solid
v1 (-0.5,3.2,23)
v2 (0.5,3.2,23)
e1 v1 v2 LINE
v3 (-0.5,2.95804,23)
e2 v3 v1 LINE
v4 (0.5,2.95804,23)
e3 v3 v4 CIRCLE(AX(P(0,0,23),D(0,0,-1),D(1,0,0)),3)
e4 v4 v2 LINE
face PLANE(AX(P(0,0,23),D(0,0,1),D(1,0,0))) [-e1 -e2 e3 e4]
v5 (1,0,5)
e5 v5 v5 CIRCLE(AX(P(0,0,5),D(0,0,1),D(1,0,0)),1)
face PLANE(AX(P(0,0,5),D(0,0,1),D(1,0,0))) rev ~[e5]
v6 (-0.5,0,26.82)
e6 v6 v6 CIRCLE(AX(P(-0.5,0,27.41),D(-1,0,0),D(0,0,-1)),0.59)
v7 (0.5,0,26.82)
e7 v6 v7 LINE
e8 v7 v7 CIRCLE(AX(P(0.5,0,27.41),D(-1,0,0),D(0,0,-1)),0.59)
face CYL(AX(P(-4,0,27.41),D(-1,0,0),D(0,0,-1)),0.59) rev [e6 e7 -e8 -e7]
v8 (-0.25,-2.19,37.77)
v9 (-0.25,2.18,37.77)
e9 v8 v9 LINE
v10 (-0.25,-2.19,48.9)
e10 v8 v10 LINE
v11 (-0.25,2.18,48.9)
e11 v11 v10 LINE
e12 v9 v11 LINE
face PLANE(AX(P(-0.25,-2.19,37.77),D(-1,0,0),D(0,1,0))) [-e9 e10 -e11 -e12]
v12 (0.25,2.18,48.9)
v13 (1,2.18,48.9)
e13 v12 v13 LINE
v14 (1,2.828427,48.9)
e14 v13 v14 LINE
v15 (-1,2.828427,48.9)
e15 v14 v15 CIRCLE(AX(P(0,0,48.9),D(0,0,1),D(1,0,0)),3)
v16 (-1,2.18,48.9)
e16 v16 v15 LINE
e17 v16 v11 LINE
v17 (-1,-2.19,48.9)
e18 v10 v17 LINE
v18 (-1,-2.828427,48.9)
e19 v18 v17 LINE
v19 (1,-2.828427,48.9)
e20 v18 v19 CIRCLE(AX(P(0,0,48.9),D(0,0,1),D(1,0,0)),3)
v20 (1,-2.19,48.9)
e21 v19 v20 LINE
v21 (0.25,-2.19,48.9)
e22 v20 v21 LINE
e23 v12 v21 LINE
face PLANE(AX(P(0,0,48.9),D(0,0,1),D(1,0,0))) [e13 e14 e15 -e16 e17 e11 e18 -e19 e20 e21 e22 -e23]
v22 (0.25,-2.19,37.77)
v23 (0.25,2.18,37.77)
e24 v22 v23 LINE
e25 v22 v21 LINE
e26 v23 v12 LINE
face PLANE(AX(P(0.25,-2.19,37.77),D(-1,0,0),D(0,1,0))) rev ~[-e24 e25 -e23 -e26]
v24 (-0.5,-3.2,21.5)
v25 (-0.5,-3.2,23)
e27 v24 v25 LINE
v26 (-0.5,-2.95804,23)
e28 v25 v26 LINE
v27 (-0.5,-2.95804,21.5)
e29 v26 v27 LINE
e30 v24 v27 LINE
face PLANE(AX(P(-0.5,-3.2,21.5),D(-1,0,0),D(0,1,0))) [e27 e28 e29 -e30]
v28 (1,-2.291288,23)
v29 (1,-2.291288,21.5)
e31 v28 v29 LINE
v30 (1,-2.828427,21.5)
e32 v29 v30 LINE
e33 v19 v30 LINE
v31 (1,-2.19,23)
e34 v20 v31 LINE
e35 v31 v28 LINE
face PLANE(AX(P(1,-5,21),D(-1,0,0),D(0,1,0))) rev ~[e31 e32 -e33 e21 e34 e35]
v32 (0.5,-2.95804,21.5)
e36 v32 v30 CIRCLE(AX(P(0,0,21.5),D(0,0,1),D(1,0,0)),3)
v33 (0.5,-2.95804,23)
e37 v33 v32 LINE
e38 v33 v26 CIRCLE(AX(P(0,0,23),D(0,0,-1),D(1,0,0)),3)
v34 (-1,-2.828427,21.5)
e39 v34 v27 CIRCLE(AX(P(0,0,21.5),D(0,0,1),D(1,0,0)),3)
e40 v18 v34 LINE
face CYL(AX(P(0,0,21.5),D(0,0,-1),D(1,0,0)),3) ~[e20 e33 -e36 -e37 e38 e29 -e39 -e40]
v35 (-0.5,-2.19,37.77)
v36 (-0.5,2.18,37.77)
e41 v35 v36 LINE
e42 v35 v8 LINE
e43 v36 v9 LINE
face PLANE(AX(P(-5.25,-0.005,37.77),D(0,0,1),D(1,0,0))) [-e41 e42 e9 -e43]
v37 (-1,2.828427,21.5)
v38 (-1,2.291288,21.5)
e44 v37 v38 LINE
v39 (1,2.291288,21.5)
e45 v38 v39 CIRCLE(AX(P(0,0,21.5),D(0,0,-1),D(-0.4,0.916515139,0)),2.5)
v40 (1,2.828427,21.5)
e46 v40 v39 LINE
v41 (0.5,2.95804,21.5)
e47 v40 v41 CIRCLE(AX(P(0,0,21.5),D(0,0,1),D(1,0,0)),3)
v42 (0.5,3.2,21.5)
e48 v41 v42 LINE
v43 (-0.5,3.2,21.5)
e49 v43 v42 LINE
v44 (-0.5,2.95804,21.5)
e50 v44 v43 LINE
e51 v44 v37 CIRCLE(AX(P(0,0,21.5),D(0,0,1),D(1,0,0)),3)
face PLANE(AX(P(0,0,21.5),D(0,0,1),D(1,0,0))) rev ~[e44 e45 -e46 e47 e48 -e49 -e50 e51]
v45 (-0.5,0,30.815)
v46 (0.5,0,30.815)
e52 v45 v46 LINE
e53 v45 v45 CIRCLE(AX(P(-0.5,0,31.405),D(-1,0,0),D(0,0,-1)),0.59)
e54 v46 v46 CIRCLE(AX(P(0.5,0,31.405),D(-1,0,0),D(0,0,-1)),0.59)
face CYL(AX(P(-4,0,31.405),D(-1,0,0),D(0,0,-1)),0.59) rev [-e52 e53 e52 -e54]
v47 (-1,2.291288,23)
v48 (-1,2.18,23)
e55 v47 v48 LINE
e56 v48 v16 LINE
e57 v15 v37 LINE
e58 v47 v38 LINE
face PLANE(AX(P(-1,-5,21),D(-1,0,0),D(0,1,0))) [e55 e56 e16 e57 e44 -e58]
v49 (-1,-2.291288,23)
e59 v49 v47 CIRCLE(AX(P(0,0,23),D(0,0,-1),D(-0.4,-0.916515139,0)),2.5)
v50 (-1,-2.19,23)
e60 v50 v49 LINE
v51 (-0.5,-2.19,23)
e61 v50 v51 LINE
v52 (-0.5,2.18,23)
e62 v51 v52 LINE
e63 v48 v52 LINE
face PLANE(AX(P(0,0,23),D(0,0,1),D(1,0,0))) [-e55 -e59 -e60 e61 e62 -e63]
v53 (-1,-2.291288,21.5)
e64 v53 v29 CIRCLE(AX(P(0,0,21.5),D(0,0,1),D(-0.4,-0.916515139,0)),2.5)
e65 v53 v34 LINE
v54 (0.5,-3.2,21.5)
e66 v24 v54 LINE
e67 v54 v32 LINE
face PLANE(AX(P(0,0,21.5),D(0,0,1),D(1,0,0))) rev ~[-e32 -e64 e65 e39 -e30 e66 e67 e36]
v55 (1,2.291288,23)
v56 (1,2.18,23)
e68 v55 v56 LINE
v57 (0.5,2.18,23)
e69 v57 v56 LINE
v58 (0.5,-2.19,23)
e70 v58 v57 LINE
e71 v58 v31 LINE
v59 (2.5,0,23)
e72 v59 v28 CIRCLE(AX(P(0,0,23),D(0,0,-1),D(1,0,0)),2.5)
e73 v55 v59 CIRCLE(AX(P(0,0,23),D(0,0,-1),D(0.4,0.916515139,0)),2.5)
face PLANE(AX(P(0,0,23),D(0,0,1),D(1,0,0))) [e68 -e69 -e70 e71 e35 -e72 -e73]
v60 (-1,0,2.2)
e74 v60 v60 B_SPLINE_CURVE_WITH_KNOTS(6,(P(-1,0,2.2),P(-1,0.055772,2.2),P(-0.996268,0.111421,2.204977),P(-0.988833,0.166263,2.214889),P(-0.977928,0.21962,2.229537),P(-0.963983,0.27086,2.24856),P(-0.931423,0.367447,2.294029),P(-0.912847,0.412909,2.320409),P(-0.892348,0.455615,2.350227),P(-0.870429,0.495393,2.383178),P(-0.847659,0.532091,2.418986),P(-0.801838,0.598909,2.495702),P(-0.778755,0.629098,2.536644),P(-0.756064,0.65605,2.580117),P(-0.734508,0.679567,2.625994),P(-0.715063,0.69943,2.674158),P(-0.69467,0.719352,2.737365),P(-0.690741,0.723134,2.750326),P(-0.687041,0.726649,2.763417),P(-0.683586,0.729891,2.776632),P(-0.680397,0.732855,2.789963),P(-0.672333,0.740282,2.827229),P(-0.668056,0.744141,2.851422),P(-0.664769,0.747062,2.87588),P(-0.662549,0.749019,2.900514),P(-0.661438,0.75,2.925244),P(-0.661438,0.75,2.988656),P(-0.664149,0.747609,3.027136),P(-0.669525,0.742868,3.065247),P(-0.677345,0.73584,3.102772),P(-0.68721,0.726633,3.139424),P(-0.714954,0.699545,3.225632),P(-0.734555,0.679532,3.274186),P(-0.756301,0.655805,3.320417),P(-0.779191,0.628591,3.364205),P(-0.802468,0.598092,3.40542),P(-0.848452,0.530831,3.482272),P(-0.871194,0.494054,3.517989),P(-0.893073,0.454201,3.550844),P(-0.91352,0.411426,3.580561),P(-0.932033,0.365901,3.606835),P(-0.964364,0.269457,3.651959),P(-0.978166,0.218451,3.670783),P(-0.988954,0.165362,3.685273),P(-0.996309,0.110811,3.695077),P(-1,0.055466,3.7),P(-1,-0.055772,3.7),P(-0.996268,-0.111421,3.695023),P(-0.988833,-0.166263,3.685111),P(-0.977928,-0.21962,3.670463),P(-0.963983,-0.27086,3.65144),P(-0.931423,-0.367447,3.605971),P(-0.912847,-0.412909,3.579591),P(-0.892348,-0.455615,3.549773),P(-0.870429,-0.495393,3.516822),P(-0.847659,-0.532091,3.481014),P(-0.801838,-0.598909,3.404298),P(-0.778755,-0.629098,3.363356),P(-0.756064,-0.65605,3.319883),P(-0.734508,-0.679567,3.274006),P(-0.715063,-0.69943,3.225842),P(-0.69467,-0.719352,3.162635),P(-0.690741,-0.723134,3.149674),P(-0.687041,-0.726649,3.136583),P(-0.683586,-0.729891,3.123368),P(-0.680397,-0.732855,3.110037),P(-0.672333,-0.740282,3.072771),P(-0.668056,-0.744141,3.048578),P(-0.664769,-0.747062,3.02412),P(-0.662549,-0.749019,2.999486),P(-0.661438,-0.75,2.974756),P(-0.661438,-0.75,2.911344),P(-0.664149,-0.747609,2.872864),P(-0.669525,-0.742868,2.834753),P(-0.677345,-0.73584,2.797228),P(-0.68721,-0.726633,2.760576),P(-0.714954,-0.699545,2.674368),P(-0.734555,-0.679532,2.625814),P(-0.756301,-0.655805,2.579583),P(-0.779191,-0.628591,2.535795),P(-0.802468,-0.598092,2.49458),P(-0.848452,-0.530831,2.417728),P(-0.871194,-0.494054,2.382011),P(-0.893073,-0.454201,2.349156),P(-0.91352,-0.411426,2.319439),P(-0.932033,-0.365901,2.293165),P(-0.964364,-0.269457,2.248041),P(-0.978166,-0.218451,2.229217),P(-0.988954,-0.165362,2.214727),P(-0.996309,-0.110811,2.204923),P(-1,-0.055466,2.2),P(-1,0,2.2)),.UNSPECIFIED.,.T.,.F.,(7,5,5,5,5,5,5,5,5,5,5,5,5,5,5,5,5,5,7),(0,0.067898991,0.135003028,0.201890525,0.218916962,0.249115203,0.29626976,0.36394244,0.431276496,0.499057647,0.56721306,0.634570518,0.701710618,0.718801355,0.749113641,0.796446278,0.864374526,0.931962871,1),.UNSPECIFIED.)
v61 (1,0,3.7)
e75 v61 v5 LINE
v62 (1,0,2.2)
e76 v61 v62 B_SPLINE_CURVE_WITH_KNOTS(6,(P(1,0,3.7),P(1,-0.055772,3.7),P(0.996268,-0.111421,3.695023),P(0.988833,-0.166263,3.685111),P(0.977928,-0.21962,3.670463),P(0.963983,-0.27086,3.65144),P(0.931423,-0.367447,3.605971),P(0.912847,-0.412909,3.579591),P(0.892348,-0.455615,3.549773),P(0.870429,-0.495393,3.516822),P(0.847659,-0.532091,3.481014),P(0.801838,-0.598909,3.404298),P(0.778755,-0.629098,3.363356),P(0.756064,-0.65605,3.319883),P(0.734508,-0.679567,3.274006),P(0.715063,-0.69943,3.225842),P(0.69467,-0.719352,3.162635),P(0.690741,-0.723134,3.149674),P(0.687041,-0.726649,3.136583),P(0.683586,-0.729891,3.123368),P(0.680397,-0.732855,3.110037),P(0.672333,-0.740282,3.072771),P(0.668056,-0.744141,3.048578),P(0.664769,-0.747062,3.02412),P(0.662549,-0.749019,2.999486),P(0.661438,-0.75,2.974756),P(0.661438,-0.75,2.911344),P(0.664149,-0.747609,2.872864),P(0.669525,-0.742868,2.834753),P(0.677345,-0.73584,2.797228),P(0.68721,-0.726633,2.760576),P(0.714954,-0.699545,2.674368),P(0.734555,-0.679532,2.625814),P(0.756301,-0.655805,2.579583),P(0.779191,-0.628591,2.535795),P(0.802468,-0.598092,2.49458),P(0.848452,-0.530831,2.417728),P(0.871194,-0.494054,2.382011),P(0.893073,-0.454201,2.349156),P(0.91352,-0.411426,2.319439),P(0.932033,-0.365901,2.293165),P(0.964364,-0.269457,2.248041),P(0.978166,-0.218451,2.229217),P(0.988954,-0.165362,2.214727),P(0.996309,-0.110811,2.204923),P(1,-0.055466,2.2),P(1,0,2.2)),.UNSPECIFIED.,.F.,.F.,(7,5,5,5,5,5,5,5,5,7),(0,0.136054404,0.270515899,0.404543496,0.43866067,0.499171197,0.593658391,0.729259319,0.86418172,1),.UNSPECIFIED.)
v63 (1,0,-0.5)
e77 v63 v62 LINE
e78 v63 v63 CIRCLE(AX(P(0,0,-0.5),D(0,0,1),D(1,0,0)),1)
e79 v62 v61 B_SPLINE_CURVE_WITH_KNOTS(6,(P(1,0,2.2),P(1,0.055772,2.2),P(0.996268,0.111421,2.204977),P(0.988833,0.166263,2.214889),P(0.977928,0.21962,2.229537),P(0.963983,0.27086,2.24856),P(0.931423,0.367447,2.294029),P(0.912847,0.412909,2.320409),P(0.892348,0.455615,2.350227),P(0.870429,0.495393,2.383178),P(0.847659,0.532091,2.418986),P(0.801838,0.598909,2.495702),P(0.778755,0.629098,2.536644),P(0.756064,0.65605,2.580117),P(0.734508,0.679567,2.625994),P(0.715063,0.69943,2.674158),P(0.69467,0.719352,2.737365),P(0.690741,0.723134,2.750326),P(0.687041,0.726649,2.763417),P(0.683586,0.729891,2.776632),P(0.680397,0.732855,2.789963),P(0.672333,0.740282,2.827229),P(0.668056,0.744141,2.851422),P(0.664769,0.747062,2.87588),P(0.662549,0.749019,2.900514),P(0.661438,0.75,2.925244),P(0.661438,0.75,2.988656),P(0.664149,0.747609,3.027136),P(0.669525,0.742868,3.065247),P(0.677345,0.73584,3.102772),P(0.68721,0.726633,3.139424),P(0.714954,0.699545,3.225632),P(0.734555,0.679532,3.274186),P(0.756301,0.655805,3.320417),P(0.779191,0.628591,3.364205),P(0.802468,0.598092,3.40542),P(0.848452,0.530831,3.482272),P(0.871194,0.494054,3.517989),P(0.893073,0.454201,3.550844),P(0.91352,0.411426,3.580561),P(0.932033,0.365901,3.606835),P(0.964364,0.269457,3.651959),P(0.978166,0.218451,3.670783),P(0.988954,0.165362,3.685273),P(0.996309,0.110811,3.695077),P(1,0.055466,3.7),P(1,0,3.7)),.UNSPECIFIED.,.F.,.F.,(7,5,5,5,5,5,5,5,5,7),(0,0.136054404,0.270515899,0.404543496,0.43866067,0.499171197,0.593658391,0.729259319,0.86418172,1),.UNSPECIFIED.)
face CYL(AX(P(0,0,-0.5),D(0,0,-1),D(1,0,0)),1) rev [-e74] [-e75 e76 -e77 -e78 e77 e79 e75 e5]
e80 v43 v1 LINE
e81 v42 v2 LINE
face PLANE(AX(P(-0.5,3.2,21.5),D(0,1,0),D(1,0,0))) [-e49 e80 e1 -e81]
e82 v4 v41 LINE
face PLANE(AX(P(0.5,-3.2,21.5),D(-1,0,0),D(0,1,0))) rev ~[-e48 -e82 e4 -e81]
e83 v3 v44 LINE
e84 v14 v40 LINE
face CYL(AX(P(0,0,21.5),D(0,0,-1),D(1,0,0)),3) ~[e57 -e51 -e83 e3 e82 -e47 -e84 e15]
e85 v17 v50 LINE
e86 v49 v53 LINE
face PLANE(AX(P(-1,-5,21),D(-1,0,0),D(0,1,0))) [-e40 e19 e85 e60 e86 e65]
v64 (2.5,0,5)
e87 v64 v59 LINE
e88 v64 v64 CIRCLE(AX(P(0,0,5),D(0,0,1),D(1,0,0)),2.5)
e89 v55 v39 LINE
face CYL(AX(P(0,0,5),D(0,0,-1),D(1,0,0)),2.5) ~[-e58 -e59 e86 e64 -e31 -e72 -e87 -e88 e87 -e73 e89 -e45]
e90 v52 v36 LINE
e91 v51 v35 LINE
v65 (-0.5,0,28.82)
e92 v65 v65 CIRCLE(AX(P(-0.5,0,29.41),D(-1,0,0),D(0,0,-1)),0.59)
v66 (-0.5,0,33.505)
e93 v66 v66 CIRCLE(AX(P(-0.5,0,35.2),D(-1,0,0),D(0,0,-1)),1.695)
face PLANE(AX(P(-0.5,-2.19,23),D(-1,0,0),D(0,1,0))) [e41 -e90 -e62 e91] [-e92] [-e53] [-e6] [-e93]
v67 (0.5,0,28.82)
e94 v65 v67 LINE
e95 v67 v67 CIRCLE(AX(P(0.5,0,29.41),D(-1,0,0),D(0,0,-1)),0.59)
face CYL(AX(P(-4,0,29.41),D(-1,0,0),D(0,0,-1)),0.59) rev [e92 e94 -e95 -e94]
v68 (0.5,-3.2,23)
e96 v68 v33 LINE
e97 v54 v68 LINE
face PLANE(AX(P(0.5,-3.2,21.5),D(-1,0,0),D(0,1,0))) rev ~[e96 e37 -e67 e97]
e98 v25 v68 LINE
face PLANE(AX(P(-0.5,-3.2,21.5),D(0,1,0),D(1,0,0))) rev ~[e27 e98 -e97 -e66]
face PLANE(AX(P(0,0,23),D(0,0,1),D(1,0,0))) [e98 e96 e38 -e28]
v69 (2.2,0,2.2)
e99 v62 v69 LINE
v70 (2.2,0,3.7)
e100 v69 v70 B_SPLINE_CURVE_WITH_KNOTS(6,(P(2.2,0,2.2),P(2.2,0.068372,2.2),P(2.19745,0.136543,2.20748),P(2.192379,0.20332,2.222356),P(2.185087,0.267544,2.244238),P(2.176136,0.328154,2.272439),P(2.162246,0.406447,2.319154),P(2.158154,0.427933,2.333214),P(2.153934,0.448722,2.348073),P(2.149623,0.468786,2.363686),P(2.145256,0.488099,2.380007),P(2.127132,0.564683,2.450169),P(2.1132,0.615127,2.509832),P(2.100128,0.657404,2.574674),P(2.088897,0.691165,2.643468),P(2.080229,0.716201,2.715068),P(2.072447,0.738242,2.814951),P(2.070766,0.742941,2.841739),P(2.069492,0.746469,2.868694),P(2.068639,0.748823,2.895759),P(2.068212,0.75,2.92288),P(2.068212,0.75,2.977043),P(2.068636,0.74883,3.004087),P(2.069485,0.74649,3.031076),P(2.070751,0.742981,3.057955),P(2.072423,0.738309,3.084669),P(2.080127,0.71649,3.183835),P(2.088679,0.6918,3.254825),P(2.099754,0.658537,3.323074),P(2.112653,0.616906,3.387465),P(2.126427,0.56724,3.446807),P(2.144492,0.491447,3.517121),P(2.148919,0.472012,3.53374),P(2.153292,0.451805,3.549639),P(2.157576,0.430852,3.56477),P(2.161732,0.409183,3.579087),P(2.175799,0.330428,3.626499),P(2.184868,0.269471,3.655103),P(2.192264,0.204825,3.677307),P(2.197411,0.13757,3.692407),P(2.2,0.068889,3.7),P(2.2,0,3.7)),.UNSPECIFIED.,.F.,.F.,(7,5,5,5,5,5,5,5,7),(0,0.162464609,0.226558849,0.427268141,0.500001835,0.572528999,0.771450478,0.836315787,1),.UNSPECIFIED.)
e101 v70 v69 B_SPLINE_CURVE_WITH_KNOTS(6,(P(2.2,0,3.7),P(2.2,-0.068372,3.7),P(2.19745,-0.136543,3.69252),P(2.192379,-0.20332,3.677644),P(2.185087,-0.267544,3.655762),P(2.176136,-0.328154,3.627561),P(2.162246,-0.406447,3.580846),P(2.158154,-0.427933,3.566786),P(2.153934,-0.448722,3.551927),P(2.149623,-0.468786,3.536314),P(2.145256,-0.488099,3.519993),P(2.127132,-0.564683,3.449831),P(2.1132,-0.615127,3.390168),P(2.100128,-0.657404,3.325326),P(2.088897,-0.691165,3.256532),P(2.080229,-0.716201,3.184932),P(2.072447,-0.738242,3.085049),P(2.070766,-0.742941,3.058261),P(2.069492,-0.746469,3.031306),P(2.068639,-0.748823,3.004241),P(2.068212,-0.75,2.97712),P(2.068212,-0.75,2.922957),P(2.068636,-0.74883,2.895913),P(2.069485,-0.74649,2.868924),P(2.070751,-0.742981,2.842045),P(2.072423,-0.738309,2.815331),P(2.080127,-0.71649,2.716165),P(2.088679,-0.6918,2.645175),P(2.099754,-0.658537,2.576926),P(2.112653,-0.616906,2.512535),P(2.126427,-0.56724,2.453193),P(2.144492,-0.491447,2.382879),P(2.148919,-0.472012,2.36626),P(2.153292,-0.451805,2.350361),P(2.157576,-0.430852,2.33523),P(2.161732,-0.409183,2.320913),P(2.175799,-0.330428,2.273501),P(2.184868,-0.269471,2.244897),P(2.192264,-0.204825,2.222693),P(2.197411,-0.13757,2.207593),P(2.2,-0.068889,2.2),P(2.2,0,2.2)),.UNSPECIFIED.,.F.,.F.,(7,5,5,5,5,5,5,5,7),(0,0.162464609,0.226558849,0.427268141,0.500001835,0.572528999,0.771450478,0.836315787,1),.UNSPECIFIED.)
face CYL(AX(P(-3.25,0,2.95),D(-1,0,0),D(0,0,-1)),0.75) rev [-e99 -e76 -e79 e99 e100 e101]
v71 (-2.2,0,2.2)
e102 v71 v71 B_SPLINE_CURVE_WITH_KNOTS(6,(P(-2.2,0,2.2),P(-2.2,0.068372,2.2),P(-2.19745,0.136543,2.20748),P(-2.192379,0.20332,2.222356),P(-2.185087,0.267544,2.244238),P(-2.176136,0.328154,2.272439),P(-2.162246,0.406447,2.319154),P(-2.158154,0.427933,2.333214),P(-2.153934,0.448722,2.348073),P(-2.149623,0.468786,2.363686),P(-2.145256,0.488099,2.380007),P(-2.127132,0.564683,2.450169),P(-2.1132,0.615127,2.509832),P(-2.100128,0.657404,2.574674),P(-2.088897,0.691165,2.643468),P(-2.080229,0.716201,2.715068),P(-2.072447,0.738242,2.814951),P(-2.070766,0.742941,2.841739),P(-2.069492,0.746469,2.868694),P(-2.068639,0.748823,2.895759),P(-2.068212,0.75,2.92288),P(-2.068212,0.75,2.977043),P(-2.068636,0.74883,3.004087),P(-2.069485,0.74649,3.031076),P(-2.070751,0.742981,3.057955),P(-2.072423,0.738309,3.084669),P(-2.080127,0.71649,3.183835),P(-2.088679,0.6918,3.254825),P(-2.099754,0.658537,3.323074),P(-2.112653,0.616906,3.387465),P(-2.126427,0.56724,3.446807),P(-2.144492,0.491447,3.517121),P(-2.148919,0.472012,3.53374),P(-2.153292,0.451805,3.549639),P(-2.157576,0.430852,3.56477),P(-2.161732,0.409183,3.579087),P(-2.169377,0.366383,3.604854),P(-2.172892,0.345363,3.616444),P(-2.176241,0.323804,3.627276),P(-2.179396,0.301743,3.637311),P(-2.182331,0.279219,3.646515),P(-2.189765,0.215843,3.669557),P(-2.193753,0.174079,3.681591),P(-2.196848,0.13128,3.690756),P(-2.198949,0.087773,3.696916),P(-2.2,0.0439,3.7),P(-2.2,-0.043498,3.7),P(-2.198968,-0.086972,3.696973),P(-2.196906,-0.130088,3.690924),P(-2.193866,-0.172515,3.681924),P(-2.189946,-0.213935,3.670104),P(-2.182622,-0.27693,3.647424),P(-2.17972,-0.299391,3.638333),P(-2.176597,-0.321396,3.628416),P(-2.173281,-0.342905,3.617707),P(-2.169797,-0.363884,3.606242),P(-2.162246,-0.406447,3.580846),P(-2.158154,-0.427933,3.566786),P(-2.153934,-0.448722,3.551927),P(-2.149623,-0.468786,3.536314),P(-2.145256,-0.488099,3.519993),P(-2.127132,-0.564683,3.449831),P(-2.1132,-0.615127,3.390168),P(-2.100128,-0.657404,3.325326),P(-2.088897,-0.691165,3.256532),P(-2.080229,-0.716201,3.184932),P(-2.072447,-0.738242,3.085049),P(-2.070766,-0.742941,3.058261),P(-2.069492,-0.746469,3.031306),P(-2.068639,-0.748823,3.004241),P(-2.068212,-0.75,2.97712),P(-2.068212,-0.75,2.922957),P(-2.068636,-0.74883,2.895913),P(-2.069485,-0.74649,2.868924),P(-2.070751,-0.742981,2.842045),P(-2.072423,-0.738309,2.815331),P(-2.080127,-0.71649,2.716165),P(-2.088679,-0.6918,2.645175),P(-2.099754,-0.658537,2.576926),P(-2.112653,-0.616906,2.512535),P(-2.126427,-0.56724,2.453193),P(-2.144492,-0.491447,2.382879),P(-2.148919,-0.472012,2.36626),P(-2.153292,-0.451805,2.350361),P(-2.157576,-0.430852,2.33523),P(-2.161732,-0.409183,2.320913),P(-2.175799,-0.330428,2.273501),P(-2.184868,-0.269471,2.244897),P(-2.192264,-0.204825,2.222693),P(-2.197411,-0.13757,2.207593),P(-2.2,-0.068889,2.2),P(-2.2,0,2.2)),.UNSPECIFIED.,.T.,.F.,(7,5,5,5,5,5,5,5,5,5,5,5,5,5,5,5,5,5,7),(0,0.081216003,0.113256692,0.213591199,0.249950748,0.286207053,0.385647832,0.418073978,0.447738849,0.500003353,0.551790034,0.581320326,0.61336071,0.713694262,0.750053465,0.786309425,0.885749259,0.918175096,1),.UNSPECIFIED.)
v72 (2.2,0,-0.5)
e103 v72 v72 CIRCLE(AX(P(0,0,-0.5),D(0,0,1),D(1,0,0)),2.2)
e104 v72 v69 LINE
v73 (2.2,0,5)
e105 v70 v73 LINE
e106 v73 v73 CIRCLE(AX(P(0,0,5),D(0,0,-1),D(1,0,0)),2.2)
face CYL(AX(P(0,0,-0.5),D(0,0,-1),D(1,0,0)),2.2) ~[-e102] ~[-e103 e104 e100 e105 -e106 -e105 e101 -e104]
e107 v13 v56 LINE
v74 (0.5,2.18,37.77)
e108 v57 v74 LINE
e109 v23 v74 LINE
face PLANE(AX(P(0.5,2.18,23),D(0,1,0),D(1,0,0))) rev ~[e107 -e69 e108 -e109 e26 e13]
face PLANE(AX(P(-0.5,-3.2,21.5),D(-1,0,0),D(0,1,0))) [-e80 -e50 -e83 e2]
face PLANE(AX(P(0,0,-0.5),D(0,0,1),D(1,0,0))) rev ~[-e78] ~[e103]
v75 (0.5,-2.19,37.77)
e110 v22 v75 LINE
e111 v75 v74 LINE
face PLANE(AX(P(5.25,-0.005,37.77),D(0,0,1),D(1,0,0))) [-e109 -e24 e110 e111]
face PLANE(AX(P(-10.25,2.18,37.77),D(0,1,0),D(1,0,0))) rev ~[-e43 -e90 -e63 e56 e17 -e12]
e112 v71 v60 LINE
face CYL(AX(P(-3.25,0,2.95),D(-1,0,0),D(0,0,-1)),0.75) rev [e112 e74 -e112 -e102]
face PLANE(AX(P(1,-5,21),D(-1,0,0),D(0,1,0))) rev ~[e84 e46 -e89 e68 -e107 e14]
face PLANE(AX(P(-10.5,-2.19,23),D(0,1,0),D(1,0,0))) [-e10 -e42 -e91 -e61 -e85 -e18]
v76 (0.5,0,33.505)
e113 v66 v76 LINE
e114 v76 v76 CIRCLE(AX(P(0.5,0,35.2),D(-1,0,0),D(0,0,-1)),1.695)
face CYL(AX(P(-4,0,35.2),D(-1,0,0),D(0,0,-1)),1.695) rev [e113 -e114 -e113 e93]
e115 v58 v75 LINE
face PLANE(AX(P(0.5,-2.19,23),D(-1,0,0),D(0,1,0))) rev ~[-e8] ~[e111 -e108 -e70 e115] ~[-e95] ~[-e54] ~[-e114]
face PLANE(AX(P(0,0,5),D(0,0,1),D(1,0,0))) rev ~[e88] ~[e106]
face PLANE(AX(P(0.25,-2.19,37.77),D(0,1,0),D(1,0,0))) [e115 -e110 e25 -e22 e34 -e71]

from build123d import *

# Parameters (mm, degrees)
BOX002_W          = 1
BOX002_H          = 6.4
BOX002_DEPTH      = 1.5
BOX006_W          = 10
BOX006_H          = 4.37
BOX006_DEPTH      = 12
BOX005_W          = 10
BOX005_H          = 4.37
BOX005_DEPTH      = 12
CYLINDER008_R     = 0.59
CYLINDER008_DEPTH = 50
CYLINDER009_R     = 0.59
CYLINDER009_DEPTH = 50
CYLINDER007_R     = 0.59
CYLINDER007_DEPTH = 50
BOX003_W          = 10
BOX003_H          = 4.37
BOX003_DEPTH      = 26
BOX004_W          = 10
BOX004_H          = 4.37
BOX004_DEPTH      = 26
BOX001_W          = 10
BOX001_H          = 5.5
BOX001_DEPTH      = 27
CYLINDER006_R     = 1.695
CYLINDER006_DEPTH = 20
CYLINDER003_R     = 1.1
CYLINDER003_DEPTH = 2
BOX_W             = 2
BOX_H             = 10
BOX_DEPTH         = 27.9
CYLINDER004_R     = 3
CYLINDER004_DEPTH = 27.4
CYLINDER005_R     = 1
CYLINDER005_DEPTH = 5.5
CYLINDER002_R     = 0.75
CYLINDER002_DEPTH = 6.2
CYLINDER001_R     = 2.5
CYLINDER001_DEPTH = 18
CYLINDER_R        = 2.2
CYLINDER_DEPTH    = 21.5


with BuildPart() as w_rfel002:
    # Box002 → Box002 (new body)
    with BuildSketch(Plane(origin=(-0.5, -3.2, 21.5), x_dir=(1, 0, 0), z_dir=(0, 0, 1))):
        with Locations((0.5, 3.2)):
            Rectangle(BOX002_W, BOX002_H)
    extrude(amount=BOX002_DEPTH)


with BuildPart() as w_rfel006:
    # Box006 → Box006 (new body)
    with BuildSketch(Plane(origin=(-10.25, -2.19, 36.77), x_dir=(1, 0, 0), z_dir=(0, 0, 1))):
        with Locations((5, 2.185)):
            Rectangle(BOX006_W, BOX006_H)
    extrude(amount=BOX006_DEPTH)


with BuildPart() as fusion004:
    # Box005 → Box005 (new body)
    with BuildSketch(Plane(origin=(0.25, -2.19, 36.77), x_dir=(1, 0, 0), z_dir=(0, 0, 1))):
        with Locations((5, 2.185)):
            Rectangle(BOX005_W, BOX005_H)
    extrude(amount=BOX005_DEPTH)

    # Fusion004: union Würfel006
    add(w_rfel006.part)


with BuildPart() as fusion004_1:
    # Fusion004 placement: moved
    add(fusion004.part.moved(Location((0, 0, 1))))


with BuildPart() as m1_6_thread2:
    # Cylinder008 → Cylinder008 (new body)
    with BuildSketch(Plane(origin=(-4, 0, 29.41), x_dir=(0, 0, -1), z_dir=(1, 0, 0))):
        Circle(CYLINDER008_R)
    extrude(amount=CYLINDER008_DEPTH)


with BuildPart() as m1_6_thread3:
    # Cylinder009 → Cylinder009 (new body)
    with BuildSketch(Plane(origin=(-4, 0, 27.41), x_dir=(0, 0, -1), z_dir=(1, 0, 0))):
        Circle(CYLINDER009_R)
    extrude(amount=CYLINDER009_DEPTH)


with BuildPart() as mirrormountingholes:
    # Cylinder007 → Cylinder007 (new body)
    with BuildSketch(Plane(origin=(-4, 0, 31.405), x_dir=(0, 0, -1), z_dir=(1, 0, 0))):
        Circle(CYLINDER007_R)
    extrude(amount=CYLINDER007_DEPTH)

    # Fusion003: union M1_6__Thread2, M1_6__Thread3
    add(m1_6_thread2.part)
    add(m1_6_thread3.part)


with BuildPart() as w_rfel003:
    # Box003 → Box003 (new body)
    with BuildSketch(Plane(origin=(0.5, -2.19, 23), x_dir=(1, 0, 0), z_dir=(0, 0, 1))):
        with Locations((5, 2.185)):
            Rectangle(BOX003_W, BOX003_H)
    extrude(amount=BOX003_DEPTH)


with BuildPart() as mirrorgrooves:
    # Box004 → Box004 (new body)
    with BuildSketch(Plane(origin=(-10.5, -2.19, 23), x_dir=(1, 0, 0), z_dir=(0, 0, 1))):
        with Locations((5, 2.185)):
            Rectangle(BOX004_W, BOX004_H)
    extrude(amount=BOX004_DEPTH)

    # Fusion002: union Würfel003
    add(w_rfel003.part)


with BuildPart() as w_rfel001:
    # Box001 → Box001 (new body)
    with BuildSketch(Plane(origin=(1, -2.57, 21), x_dir=(1, 0, 0), z_dir=(0, 0, 1))):
        with Locations((5, 2.75)):
            Rectangle(BOX001_W, BOX001_H)
    extrude(amount=BOX001_DEPTH)


with BuildPart() as probehole:
    # Cylinder006 → Cylinder006 (new body)
    with BuildSketch(Plane(origin=(-4, 0, 35.2), x_dir=(0, 0, -1), z_dir=(1, 0, 0))):
        Circle(CYLINDER006_R)
    extrude(amount=CYLINDER006_DEPTH)


with BuildPart() as beamhole:
    # Cylinder003 → Cylinder003 (new body)
    with BuildSketch(Plane(origin=(-1, 0, 35.2), x_dir=(0, 0, -1), z_dir=(1, 0, 0))):
        Circle(CYLINDER003_R)
    extrude(amount=CYLINDER003_DEPTH)


with BuildPart() as w_rfel:
    # Box → Box (new body)
    with BuildSketch(Plane(origin=(-1, -5, 21), x_dir=(1, 0, 0), z_dir=(0, 0, 1))):
        with Locations((1, 5)):
            Rectangle(BOX_W, BOX_H)
    extrude(amount=BOX_DEPTH)


with BuildPart() as cut004:
    # Cylinder004 → Cylinder004 (new body)
    with BuildSketch(Plane.XY.offset(21.5)):
        Circle(CYLINDER004_R)
    extrude(amount=CYLINDER004_DEPTH)

    # Common: intersect Würfel
    add(w_rfel.part, mode=Mode.INTERSECT)

    # Cut001: cut BeamHole
    add(beamhole.part, mode=Mode.SUBTRACT)

    # Cut003: cut ProbeHole
    add(probehole.part, mode=Mode.SUBTRACT)

    # Cut004: cut Würfel001
    add(w_rfel001.part, mode=Mode.SUBTRACT)


with BuildPart() as zylinder005:
    # Cylinder005 → Cylinder005 (new body)
    with BuildSketch(Plane.XY.offset(-0.5)):
        Circle(CYLINDER005_R)
    extrude(amount=CYLINDER005_DEPTH)


with BuildPart() as zylinder002:
    # Cylinder002 → Cylinder002 (new body)
    with BuildSketch(Plane(origin=(-3.25, 0, 2.95), x_dir=(0, 0, -1), z_dir=(1, 0, 0))):
        Circle(CYLINDER002_R)
    extrude(amount=CYLINDER002_DEPTH)


with BuildPart() as zylinder001:
    # Cylinder001 → Cylinder001 (new body)
    with BuildSketch(Plane.XY.offset(5)):
        Circle(CYLINDER001_R)
    extrude(amount=CYLINDER001_DEPTH)


with BuildPart() as fusion005:
    # Cylinder → Cylinder (new body)
    with BuildSketch(Plane.XY.offset(-0.5)):
        Circle(CYLINDER_R)
    extrude(amount=CYLINDER_DEPTH)

    # Fusion: union Zylinder001
    add(zylinder001.part)

    # Cut: cut Zylinder002
    add(zylinder002.part, mode=Mode.SUBTRACT)

    # Cut002: cut Zylinder005
    add(zylinder005.part, mode=Mode.SUBTRACT)

    # Fusion001: union Cut004
    add(cut004.part)

    # Cut005: cut MirrorGrooves
    add(mirrorgrooves.part, mode=Mode.SUBTRACT)

    # Cut006: cut MirrorMountingHoles
    add(mirrormountingholes.part, mode=Mode.SUBTRACT)

    # Cut007: cut Fusion004
    add(fusion004_1.part, mode=Mode.SUBTRACT)

    # Fusion005: union Würfel002
    add(w_rfel002.part)


solid = fusion005.part
